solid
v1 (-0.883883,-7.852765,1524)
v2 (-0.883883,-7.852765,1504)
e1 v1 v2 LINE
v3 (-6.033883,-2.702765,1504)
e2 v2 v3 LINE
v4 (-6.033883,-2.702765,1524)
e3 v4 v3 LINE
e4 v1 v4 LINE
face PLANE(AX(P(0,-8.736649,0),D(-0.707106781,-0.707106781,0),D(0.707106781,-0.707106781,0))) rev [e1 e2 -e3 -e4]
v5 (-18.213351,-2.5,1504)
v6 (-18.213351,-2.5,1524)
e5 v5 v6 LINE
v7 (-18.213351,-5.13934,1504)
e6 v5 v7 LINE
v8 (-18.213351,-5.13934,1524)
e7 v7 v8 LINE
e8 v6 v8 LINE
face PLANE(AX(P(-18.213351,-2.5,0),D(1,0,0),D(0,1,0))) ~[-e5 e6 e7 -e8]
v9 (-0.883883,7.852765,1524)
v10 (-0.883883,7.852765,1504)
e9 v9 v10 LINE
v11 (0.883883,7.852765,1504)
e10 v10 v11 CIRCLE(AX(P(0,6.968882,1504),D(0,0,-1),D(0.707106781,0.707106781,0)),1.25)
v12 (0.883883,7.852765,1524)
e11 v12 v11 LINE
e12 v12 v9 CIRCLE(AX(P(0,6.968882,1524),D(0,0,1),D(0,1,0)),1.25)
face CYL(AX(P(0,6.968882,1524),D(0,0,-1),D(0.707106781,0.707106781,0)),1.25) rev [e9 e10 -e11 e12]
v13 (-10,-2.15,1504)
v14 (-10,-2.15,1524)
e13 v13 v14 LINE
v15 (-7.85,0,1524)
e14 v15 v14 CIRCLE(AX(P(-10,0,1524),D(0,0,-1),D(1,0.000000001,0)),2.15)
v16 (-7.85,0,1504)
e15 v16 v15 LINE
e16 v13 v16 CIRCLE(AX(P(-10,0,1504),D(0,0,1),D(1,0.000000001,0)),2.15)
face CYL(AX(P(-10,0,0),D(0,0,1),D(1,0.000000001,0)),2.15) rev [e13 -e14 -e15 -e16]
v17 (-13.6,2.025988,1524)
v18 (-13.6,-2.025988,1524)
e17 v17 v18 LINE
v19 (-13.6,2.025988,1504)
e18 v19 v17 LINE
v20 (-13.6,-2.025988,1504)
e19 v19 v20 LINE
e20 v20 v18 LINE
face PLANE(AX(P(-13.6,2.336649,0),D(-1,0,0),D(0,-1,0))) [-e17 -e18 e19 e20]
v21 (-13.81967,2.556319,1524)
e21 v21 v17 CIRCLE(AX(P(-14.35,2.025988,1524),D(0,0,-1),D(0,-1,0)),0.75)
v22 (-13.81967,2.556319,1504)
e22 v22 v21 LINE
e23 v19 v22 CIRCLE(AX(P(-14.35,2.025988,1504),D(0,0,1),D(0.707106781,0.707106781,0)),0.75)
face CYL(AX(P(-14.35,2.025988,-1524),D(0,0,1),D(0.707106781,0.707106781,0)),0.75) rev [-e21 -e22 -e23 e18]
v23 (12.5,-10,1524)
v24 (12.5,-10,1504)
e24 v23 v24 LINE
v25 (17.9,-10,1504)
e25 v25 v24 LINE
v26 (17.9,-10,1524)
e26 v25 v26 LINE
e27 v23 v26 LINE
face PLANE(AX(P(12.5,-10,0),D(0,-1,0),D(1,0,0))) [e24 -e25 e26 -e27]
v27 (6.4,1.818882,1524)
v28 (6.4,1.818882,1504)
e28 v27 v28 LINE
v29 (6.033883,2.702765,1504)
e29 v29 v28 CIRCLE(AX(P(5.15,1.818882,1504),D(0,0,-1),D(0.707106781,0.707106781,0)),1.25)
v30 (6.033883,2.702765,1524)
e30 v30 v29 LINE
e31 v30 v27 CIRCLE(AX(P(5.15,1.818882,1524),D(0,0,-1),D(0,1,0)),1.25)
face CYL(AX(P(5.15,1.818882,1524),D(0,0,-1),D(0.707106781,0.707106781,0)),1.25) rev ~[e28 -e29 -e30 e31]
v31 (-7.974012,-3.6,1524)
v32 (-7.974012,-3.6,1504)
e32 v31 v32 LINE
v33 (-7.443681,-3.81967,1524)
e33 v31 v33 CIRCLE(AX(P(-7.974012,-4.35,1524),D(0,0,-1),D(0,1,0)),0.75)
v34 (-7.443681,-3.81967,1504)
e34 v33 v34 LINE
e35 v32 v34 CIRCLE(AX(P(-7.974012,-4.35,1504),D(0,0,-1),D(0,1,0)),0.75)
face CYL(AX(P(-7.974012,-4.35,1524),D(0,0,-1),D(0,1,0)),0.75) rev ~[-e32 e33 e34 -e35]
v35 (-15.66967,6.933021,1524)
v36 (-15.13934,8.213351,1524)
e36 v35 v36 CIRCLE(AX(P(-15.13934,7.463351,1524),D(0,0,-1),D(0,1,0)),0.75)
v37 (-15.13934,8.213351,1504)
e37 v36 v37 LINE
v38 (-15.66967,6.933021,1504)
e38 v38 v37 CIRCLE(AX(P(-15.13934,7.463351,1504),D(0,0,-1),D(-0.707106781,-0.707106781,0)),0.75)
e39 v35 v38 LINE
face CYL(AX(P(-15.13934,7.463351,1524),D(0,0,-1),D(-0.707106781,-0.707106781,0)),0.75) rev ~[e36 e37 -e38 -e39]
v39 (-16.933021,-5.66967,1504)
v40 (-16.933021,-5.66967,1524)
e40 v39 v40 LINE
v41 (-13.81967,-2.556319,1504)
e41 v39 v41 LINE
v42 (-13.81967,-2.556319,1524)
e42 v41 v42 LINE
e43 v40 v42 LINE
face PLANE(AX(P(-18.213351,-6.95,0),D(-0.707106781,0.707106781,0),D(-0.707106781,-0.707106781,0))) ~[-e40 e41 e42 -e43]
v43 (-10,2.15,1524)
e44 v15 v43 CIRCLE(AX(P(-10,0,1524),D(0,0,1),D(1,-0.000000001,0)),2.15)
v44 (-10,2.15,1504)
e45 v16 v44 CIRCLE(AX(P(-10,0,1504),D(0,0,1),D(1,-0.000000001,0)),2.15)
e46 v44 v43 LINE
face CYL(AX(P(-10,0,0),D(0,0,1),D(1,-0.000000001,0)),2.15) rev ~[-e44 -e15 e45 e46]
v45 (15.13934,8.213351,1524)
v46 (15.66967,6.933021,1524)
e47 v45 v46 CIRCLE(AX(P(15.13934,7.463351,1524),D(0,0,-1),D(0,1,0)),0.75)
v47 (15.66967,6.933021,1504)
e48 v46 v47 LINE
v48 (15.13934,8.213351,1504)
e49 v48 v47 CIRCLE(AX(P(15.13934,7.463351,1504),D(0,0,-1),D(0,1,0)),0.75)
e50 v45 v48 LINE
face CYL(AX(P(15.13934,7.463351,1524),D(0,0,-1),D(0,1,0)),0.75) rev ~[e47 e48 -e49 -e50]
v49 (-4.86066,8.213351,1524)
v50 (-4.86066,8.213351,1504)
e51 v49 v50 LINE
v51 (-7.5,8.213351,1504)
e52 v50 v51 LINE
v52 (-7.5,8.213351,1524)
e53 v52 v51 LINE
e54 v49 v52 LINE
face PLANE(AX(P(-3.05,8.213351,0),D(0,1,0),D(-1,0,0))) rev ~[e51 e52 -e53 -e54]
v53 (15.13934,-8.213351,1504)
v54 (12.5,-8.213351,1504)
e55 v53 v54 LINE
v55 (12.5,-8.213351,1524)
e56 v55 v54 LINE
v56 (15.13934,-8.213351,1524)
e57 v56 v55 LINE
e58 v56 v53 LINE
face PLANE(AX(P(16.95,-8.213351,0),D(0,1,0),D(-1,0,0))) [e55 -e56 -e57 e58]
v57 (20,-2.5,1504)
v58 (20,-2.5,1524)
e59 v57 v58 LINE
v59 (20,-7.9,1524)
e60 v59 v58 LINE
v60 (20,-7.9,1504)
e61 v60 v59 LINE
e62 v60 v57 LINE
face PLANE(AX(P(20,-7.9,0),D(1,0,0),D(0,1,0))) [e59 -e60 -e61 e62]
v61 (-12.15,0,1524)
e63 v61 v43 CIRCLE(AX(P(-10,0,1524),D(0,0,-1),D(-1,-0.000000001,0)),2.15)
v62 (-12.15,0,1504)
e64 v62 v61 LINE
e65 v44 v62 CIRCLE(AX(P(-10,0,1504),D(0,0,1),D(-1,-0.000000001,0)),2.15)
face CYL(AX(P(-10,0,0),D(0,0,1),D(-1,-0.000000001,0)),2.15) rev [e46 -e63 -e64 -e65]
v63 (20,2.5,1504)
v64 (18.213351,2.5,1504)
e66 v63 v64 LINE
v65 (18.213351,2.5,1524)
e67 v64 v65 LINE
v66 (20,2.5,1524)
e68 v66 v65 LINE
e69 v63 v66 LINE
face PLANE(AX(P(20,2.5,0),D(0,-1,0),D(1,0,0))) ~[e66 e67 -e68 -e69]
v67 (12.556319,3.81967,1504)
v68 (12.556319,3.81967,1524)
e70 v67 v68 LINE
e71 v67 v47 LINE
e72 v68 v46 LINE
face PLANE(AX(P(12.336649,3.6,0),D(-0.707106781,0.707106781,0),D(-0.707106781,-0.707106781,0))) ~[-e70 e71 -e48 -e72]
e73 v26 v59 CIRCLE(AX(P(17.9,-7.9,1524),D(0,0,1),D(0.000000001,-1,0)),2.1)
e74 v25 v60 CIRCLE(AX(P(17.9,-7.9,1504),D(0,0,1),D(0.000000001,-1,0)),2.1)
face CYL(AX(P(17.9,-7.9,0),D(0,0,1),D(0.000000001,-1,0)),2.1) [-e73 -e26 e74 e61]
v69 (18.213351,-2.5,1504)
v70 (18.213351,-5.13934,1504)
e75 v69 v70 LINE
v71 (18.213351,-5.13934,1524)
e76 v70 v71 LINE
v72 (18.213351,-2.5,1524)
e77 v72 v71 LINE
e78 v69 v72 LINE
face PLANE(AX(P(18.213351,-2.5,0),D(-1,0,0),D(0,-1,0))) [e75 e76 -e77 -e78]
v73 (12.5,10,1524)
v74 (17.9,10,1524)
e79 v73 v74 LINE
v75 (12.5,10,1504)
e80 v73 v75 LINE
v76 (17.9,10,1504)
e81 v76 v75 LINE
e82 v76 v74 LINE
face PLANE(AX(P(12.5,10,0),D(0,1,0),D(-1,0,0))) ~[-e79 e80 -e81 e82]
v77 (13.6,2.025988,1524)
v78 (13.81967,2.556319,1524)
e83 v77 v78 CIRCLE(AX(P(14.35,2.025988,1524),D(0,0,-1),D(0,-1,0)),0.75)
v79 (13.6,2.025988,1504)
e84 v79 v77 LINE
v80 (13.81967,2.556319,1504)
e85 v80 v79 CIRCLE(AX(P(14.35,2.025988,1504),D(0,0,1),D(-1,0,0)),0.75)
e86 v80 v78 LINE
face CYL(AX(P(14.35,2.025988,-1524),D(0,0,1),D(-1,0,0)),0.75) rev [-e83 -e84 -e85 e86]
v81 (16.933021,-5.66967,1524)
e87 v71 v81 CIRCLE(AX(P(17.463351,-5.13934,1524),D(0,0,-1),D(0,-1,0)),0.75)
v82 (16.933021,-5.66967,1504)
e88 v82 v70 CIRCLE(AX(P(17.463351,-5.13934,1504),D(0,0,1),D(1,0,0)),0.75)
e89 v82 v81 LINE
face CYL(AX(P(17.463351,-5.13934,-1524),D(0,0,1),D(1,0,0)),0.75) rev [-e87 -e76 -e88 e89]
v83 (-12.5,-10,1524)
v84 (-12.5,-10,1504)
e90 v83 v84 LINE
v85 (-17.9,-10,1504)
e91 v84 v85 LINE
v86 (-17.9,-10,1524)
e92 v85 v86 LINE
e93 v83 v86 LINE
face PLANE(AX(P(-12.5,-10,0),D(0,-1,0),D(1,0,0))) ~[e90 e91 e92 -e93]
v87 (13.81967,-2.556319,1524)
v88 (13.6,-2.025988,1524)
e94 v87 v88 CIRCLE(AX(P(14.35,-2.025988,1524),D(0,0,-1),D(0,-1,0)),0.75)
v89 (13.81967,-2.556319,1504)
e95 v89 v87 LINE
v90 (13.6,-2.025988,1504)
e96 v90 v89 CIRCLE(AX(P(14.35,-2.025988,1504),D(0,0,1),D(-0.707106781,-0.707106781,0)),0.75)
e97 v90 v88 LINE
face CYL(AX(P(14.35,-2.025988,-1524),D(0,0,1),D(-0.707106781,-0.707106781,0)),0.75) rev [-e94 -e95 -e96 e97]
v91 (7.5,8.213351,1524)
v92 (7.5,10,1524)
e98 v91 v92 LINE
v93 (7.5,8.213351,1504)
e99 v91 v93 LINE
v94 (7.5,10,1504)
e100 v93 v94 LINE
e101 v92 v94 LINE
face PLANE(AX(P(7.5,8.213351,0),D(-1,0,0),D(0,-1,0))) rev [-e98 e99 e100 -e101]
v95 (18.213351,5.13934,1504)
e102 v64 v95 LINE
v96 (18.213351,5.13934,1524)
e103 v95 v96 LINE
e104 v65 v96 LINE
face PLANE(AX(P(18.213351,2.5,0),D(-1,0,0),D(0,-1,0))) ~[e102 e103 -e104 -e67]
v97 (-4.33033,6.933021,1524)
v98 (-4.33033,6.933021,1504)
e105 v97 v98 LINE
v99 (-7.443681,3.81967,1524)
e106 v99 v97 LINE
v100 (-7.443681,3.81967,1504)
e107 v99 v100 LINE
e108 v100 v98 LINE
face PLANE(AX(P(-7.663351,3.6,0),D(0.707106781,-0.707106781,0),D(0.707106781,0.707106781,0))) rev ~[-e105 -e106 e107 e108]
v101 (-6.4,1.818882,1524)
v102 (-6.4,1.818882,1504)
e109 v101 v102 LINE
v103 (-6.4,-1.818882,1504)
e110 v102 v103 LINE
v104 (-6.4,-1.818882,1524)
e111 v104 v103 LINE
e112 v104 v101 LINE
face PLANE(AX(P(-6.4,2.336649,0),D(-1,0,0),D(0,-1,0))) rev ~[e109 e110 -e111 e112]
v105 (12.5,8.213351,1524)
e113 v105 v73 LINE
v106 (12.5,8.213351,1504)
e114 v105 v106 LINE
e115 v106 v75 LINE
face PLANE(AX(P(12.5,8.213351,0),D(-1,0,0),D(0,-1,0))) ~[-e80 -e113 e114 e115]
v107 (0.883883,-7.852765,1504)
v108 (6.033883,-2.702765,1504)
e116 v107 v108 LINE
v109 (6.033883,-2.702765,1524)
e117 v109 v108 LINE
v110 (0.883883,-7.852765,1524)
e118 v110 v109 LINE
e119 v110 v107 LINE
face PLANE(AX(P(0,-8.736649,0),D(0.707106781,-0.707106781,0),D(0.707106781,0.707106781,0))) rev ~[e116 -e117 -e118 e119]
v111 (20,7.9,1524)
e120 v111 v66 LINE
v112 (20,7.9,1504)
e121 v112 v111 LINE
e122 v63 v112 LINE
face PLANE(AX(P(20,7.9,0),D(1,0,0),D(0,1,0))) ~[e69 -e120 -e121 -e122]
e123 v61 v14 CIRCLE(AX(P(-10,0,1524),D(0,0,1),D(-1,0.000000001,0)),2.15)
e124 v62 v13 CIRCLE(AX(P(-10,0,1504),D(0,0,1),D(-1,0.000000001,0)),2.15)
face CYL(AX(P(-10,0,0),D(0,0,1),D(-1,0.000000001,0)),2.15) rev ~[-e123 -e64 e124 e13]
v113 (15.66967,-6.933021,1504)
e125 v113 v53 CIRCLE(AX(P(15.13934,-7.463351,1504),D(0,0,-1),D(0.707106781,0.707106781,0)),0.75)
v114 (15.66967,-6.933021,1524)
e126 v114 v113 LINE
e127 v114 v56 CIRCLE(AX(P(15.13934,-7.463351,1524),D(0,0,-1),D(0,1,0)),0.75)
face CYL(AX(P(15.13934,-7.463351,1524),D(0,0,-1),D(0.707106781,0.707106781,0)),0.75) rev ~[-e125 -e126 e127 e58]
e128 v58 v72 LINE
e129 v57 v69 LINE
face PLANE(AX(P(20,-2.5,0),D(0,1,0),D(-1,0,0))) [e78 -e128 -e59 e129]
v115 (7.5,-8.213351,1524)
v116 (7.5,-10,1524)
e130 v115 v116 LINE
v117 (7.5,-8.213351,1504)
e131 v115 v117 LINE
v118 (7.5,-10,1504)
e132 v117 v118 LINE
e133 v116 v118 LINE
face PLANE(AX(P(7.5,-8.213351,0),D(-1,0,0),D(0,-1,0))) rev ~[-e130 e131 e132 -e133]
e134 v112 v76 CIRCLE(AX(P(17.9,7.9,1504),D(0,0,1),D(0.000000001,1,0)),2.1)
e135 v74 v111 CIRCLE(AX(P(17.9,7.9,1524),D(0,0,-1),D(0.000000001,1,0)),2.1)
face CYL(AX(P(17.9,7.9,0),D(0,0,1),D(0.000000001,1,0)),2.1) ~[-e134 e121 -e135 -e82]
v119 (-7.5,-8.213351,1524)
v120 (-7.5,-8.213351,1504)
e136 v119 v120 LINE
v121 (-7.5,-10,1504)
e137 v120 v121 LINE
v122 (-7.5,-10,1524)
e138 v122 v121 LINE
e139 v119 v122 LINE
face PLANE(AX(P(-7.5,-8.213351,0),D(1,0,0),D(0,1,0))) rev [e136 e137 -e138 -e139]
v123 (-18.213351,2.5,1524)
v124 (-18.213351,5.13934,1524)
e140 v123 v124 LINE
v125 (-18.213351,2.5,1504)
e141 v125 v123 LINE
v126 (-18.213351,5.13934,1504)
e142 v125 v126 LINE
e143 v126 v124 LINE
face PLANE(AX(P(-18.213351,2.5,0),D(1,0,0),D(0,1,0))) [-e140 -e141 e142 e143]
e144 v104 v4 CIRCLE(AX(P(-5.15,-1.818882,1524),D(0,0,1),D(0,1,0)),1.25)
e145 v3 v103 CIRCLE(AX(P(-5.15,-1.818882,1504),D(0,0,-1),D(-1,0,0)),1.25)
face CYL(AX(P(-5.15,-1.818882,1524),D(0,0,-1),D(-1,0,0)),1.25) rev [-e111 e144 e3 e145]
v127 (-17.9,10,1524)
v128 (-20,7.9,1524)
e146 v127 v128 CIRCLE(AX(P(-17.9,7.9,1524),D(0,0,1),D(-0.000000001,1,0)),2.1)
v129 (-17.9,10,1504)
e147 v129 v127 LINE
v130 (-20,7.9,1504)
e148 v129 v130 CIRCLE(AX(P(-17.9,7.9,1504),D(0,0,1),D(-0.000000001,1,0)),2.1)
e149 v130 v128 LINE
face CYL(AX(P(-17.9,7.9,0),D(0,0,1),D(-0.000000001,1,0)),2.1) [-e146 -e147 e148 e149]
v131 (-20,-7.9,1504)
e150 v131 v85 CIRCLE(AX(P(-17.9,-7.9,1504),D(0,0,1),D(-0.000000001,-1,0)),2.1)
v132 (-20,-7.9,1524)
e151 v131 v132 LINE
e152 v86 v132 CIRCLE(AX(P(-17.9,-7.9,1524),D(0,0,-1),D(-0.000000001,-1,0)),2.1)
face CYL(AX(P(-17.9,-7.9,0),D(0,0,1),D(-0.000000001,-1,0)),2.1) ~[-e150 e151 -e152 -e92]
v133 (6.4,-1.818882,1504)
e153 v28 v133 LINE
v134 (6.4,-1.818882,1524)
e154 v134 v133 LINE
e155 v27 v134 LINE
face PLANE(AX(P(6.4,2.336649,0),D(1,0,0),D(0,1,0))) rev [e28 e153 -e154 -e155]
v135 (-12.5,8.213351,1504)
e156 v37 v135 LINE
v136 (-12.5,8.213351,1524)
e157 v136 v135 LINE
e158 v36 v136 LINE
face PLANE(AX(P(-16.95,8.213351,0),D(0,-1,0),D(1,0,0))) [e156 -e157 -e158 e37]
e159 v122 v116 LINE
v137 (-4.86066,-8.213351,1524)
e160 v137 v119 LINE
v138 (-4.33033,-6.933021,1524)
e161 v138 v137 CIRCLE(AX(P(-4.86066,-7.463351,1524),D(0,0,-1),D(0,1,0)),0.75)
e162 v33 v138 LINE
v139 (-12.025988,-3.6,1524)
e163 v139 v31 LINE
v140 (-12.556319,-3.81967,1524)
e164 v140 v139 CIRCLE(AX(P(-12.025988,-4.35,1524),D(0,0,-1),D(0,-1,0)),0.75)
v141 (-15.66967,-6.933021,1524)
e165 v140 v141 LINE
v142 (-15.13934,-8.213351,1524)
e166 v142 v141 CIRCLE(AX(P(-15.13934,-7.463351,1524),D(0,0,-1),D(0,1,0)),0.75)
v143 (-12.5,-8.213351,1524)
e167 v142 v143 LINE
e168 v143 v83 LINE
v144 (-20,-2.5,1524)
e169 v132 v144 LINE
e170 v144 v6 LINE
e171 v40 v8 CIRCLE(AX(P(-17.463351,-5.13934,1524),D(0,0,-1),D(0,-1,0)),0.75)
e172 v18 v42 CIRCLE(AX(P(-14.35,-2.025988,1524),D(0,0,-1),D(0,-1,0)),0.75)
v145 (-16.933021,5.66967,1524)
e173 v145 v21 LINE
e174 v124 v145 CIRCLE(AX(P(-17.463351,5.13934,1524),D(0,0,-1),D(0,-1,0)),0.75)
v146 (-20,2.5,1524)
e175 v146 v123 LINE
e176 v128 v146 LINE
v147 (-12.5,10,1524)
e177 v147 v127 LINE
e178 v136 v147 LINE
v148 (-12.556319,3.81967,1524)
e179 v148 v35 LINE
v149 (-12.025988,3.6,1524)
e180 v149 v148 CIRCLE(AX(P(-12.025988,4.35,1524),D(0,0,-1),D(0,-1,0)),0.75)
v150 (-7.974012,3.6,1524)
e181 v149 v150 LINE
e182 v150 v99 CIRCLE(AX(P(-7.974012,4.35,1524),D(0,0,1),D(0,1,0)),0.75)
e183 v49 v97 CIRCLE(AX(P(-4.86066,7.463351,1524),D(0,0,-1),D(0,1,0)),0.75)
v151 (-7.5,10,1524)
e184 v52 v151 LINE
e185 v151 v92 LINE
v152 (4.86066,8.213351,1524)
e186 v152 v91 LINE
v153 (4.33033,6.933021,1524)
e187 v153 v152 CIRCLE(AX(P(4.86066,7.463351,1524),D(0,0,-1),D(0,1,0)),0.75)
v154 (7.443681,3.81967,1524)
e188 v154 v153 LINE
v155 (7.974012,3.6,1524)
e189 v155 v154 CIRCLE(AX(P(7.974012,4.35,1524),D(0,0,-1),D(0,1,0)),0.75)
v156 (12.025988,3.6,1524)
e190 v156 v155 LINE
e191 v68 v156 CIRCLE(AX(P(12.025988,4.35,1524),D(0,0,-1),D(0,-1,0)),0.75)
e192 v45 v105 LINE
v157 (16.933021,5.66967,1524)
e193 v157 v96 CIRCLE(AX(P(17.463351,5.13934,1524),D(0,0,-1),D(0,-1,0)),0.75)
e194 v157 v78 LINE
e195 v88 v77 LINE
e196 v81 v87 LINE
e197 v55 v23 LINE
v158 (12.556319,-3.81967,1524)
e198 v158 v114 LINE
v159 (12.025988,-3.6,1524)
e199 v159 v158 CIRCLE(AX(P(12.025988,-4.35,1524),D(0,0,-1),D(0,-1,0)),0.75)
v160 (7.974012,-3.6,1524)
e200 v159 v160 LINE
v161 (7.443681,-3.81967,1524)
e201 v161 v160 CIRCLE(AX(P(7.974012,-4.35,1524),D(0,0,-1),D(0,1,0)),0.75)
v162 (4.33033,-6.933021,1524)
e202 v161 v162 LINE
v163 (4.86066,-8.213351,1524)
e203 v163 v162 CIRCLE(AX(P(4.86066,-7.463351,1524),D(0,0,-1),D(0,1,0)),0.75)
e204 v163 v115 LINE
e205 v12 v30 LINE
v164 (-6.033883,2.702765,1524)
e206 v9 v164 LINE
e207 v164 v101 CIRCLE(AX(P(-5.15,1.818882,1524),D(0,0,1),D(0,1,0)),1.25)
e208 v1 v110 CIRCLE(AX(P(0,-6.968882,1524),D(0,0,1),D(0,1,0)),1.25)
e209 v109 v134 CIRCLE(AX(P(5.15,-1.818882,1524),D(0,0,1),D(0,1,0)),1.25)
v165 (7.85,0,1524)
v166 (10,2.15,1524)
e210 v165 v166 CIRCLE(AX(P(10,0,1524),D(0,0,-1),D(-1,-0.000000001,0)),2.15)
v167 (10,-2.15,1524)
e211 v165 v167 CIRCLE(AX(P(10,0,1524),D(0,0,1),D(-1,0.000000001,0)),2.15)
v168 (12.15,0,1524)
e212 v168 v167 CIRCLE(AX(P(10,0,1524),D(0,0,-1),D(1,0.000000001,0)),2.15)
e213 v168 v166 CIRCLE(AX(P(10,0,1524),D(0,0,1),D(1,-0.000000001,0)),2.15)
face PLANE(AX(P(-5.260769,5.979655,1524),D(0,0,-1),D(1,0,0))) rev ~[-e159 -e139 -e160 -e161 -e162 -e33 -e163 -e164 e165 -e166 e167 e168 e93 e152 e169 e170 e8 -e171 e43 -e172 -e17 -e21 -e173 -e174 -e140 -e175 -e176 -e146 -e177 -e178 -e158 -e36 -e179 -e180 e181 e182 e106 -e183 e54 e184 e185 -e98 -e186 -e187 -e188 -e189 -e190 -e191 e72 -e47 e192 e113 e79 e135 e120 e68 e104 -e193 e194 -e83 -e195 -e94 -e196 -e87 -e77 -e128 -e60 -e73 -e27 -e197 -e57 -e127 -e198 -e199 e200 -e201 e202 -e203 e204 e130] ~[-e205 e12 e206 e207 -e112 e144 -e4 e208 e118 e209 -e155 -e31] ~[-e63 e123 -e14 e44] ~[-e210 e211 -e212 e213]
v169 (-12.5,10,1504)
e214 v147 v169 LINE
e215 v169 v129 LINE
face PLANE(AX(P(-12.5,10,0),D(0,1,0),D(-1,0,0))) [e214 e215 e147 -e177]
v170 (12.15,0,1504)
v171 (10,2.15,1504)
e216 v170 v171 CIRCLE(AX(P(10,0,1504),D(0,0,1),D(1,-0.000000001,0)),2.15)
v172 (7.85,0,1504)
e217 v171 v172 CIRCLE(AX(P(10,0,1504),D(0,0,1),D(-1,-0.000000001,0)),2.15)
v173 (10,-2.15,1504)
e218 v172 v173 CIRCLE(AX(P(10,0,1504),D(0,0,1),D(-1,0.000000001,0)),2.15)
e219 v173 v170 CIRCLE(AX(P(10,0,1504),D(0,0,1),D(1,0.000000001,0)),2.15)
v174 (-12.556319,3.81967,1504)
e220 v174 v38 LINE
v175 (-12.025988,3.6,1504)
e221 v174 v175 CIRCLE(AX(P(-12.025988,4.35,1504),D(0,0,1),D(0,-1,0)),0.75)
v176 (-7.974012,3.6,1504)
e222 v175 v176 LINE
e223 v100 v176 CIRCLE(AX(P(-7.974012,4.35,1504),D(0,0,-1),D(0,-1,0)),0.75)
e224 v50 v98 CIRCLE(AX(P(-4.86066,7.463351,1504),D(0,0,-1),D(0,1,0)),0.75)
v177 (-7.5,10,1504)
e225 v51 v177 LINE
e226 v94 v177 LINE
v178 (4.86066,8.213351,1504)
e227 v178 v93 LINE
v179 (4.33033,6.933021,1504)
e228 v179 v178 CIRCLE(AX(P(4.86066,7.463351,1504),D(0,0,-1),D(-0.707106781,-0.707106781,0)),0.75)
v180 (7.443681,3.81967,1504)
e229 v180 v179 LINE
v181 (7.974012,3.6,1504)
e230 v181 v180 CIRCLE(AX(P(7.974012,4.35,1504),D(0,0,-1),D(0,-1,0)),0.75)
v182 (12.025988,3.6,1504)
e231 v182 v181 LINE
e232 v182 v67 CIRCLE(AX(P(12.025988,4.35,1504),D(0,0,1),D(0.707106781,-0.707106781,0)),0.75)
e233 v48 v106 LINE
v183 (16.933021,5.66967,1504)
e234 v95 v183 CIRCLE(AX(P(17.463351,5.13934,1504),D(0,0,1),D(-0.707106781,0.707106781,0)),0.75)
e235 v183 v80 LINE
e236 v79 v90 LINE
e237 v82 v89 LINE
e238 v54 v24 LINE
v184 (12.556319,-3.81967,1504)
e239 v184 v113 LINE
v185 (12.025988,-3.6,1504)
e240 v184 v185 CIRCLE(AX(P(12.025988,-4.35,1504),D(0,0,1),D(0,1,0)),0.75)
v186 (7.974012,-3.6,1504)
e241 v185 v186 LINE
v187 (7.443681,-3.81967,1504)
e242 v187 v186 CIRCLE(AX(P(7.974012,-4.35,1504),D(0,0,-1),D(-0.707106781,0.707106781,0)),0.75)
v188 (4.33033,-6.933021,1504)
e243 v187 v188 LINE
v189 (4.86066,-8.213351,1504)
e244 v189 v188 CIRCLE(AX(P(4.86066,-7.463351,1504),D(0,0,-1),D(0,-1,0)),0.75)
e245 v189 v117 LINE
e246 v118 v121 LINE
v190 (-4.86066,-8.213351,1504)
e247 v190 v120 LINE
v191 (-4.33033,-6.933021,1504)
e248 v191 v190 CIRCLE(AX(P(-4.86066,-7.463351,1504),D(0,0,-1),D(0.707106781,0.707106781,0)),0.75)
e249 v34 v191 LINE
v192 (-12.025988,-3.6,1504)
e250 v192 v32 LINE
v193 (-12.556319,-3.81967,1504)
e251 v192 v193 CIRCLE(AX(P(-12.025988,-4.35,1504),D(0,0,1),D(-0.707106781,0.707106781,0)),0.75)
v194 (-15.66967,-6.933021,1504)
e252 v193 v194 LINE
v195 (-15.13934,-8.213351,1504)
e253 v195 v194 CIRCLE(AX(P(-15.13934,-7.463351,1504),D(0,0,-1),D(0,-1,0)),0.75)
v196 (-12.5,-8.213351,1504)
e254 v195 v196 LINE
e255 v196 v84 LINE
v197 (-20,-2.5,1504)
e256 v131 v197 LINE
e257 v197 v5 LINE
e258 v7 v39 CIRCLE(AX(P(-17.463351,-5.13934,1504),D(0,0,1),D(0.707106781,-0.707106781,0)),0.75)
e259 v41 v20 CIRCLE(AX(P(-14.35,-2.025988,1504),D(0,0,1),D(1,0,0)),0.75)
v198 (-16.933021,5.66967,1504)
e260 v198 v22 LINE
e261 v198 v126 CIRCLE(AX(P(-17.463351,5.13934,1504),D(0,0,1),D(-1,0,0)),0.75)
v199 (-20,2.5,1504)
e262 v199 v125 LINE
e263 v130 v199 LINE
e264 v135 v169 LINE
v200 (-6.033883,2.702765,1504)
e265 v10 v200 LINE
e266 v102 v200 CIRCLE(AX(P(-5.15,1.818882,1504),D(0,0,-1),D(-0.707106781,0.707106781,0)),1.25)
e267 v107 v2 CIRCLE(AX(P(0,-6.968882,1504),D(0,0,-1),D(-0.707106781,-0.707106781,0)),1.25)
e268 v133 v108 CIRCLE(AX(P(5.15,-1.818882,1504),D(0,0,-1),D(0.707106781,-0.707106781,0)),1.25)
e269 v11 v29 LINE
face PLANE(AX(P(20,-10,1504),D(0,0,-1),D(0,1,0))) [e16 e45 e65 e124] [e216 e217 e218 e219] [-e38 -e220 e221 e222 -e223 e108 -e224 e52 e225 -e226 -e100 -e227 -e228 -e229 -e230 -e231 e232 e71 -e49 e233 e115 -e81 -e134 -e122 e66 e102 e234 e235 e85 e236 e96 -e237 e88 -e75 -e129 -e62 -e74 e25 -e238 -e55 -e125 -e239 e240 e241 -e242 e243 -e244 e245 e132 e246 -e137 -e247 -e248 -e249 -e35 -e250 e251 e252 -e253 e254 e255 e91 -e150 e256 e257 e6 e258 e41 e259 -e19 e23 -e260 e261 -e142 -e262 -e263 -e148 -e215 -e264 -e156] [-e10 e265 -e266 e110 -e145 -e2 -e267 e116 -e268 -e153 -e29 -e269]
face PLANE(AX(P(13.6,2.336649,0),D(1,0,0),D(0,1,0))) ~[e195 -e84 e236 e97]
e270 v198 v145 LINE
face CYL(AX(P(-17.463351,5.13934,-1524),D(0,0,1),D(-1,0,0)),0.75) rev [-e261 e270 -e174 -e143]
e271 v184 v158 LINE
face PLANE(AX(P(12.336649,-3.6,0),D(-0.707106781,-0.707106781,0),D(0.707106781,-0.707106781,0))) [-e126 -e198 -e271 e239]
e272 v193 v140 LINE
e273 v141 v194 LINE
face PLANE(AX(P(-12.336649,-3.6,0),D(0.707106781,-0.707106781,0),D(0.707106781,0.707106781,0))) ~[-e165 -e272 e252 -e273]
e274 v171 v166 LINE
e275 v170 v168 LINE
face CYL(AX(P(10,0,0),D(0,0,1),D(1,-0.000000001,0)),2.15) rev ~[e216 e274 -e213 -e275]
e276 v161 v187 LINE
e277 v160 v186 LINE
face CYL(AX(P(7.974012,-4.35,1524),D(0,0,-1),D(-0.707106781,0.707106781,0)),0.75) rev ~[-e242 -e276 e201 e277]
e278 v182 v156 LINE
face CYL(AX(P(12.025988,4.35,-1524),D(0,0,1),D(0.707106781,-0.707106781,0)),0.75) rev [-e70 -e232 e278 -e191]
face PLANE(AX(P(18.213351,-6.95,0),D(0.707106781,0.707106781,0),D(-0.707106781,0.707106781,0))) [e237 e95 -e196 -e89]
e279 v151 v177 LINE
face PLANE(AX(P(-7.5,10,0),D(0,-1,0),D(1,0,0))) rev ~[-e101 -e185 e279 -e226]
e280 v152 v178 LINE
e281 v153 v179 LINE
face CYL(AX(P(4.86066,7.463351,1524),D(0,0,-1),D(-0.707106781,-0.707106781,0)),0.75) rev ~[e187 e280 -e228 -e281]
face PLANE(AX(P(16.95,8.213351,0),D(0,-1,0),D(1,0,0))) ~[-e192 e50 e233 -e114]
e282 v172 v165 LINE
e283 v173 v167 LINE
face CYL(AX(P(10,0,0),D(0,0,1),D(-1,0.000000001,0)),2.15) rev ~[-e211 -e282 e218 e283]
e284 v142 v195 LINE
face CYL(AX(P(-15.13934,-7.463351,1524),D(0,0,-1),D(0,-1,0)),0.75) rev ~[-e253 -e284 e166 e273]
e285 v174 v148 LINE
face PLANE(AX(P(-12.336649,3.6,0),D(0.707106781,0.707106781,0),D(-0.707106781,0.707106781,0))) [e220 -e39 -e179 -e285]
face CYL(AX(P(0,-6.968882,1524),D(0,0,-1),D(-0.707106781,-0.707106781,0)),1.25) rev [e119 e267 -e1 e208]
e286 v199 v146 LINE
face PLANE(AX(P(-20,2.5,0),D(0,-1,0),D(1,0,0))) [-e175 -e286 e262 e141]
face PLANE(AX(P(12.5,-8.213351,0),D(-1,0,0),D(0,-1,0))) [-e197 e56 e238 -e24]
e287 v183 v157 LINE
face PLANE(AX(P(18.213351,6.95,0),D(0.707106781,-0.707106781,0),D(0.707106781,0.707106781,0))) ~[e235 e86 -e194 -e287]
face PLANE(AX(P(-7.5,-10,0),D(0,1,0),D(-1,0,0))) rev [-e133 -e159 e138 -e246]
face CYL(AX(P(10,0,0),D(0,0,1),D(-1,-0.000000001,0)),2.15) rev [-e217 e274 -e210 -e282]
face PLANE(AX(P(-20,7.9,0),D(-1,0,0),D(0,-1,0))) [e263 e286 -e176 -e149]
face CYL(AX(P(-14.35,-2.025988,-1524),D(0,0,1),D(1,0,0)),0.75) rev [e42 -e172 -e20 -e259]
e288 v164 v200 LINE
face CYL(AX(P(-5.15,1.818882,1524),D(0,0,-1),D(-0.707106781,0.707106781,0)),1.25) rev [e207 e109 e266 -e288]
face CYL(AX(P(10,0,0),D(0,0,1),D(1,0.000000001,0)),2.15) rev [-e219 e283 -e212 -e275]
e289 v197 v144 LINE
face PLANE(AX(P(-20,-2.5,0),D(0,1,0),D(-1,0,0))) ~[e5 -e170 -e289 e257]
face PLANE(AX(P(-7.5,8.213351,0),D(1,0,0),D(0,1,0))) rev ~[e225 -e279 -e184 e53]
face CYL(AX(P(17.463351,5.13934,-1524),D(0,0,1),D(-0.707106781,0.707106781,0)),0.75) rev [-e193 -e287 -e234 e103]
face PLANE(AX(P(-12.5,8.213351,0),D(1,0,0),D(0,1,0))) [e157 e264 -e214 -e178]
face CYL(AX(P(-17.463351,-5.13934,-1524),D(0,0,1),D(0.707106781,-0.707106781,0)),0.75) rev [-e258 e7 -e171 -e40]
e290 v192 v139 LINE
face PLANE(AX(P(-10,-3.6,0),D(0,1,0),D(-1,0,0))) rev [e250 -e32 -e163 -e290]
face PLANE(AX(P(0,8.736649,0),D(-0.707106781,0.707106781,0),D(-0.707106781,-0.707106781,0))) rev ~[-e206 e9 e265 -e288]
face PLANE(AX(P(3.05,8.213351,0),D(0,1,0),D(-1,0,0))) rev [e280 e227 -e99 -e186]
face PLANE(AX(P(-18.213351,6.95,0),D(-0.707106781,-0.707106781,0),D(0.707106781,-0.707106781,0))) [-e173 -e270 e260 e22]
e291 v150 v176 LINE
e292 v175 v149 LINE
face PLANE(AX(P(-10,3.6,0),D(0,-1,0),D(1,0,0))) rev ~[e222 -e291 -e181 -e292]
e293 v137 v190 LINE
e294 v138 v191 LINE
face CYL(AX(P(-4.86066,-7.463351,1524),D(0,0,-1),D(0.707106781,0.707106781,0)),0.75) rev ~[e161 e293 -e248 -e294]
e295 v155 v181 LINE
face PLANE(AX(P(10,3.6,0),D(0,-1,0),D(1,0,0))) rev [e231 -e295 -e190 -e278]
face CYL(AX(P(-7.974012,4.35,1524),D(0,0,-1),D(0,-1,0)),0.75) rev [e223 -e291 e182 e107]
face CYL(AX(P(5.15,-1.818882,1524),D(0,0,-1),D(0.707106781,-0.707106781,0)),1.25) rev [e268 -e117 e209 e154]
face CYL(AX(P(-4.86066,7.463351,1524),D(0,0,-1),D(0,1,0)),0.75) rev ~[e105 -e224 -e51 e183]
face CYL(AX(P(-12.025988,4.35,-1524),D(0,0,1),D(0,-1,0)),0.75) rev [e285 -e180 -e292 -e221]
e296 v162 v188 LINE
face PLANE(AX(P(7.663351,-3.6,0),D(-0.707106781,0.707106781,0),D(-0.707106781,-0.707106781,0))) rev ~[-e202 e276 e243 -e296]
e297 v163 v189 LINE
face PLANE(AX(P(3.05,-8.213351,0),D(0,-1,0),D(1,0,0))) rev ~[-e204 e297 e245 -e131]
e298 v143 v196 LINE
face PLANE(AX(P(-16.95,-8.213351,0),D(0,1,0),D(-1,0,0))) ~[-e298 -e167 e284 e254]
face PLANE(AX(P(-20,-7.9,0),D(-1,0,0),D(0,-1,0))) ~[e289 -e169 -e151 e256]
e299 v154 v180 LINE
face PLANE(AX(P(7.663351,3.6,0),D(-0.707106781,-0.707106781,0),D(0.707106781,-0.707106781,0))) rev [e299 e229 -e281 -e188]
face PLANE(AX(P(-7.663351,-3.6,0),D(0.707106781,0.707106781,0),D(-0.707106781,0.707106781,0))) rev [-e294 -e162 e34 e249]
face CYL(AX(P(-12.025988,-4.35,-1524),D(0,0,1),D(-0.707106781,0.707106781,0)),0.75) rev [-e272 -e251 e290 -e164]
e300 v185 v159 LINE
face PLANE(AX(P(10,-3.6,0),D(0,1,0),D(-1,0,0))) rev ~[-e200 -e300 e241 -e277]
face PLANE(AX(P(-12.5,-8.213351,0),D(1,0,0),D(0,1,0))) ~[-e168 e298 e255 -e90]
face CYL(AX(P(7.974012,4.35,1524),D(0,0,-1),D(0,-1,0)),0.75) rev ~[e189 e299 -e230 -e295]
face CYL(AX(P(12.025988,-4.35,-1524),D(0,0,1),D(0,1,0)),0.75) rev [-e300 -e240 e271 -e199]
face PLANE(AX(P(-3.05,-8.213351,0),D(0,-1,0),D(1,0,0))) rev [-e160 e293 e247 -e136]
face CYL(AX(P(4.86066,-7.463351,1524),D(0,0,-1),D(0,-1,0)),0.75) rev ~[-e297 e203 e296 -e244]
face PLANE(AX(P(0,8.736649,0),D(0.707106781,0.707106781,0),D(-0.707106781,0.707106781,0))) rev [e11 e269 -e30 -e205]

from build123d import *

# Parameters (mm, degrees)
BOSS_EXTRUDE1_DEPTH = 1524
BOSS_EXTRUDE2_DEPTH = 1524
FILLET1_R           = 0.75
FILLET2_R           = 1.25
SKETCH5_W           = 3028
SKETCH5_H           = 20
CUT_EXTRUDE1_DEPTH  = 1525.55764076


with BuildPart() as part:
    # Sketch3 → Boss-Extrude1 (new, symmetric)
    with BuildSketch(Plane.XY):
        with BuildLine():
            Line((12.5, -10), (17.9, -10))
            ThreePointArc((17.9, -10), (19.38492424, -9.38492424), (20, -7.9))
            Line((20, -7.9), (20, -2.5))
            Line((20, -2.5), (18.213351365, -2.5))
            Line((18.213351365, -2.5), (18.213351365, -6.95))
            Line((18.213351365, -6.95), (13.6, -2.336648635))
            Line((13.6, -2.336648635), (13.6, 0))
            Line((13.6, 0), (12.15, 0))
            ThreePointArc((12.15, 0), (11.52027958, -1.52027958), (10, -2.15))
            Line((10, -2.15), (10, -3.6))
            Line((10, -3.6), (12.336648635, -3.6))
            Line((12.336648635, -3.6), (16.95, -8.213351365))
            Line((16.95, -8.213351365), (12.5, -8.213351365))
            Line((12.5, -8.213351365), (12.5, -10))
        make_face()
    extrude(amount=BOSS_EXTRUDE1_DEPTH, both=True)

    # Sketch4 → Boss-Extrude2 (add, symmetric)
    with BuildSketch(Plane.XY):
        with BuildLine():
            Line((10, -3.6), (7.663351365, -3.6))
            Line((7.663351365, -3.6), (3.05, -8.213351365))
            Line((3.05, -8.213351365), (7.5, -8.213351365))
            Line((7.5, -8.213351365), (7.5, -10))
            Line((7.5, -10), (0, -10))
            Line((0, -10), (0, -8.736648635))
            Line((0, -8.736648635), (6.4, -2.336648635))
            Line((6.4, -2.336648635), (6.4, 0))
            Line((6.4, 0), (7.85, 0))
            ThreePointArc((7.85, 0), (8.47972042, -1.52027958), (10, -2.15))
            Line((10, -2.15), (10, -3.6))
        make_face()
    extrude(amount=BOSS_EXTRUDE2_DEPTH, both=True)

    # Mirror1: part across plane


with BuildPart() as part_1:
    add(part.part)
    add(part.part.mirror(Plane(origin=(0, 0, 0), x_dir=(0, 0, 1), z_dir=(1, 0, 0))))

    # Mirror2: part across plane


with BuildPart() as part_2:
    add(part_1.part)
    add(part_1.part.mirror(Plane.ZX))

    # Fillet1
    fillet1_edges = [part_2.edges().sort_by_distance(p)[0] for p in [
        (18.213351365, 6.95, 0),
        (13.6, 2.336648635, 0),
        (12.336648635, 3.6, 0),
        (16.95, 8.213351365, 0),
        (3.05, 8.213351365, 0),
        (7.663351365, 3.6, 0),
        (-18.213351365, 6.95, 0),
        (-13.6, 2.336648635, 0),
        (-7.663351365, 3.6, 0),
        (-12.336648635, 3.6, 0),
        (-16.95, 8.213351365, 0),
        (-3.05, 8.213351365, 0),
        (16.95, -8.213351365, 0),
        (12.336648635, -3.6, 0),
        (13.6, -2.336648635, 0),
        (18.213351365, -6.95, 0),
        (3.05, -8.213351365, 0),
        (7.663351365, -3.6, 0),
        (-18.213351365, -6.95, 0),
        (-13.6, -2.336648635, 0),
        (-12.336648635, -3.6, 0),
        (-16.95, -8.213351365, 0),
        (-3.05, -8.213351365, 0),
        (-7.663351365, -3.6, 0),
    ]]
    fillet(fillet1_edges, radius=FILLET1_R)

    # Fillet2
    fillet2_edges = [part_2.edges().sort_by_distance(p)[0] for p in [
        (6.4, 2.336648635, 0),
        (0, 8.736648635, 0),
        (-6.4, 2.336648635, 0),
        (6.4, -2.336648635, 0),
        (-6.4, -2.336648635, 0),
        (0, -8.736648635, 0),
    ]]
    fillet(fillet2_edges, radius=FILLET2_R)

    # Sketch5 → Cut-Extrude1 (cut, through all)
    with BuildSketch(Plane(origin=(20, 0, 0), x_dir=(0, 0, -1), z_dir=(1, 0, 0))):
        with Locations((10, 0)):
            Rectangle(SKETCH5_W, SKETCH5_H)
    extrude(amount=-CUT_EXTRUDE1_DEPTH, mode=Mode.SUBTRACT)


solid = part_2.part
